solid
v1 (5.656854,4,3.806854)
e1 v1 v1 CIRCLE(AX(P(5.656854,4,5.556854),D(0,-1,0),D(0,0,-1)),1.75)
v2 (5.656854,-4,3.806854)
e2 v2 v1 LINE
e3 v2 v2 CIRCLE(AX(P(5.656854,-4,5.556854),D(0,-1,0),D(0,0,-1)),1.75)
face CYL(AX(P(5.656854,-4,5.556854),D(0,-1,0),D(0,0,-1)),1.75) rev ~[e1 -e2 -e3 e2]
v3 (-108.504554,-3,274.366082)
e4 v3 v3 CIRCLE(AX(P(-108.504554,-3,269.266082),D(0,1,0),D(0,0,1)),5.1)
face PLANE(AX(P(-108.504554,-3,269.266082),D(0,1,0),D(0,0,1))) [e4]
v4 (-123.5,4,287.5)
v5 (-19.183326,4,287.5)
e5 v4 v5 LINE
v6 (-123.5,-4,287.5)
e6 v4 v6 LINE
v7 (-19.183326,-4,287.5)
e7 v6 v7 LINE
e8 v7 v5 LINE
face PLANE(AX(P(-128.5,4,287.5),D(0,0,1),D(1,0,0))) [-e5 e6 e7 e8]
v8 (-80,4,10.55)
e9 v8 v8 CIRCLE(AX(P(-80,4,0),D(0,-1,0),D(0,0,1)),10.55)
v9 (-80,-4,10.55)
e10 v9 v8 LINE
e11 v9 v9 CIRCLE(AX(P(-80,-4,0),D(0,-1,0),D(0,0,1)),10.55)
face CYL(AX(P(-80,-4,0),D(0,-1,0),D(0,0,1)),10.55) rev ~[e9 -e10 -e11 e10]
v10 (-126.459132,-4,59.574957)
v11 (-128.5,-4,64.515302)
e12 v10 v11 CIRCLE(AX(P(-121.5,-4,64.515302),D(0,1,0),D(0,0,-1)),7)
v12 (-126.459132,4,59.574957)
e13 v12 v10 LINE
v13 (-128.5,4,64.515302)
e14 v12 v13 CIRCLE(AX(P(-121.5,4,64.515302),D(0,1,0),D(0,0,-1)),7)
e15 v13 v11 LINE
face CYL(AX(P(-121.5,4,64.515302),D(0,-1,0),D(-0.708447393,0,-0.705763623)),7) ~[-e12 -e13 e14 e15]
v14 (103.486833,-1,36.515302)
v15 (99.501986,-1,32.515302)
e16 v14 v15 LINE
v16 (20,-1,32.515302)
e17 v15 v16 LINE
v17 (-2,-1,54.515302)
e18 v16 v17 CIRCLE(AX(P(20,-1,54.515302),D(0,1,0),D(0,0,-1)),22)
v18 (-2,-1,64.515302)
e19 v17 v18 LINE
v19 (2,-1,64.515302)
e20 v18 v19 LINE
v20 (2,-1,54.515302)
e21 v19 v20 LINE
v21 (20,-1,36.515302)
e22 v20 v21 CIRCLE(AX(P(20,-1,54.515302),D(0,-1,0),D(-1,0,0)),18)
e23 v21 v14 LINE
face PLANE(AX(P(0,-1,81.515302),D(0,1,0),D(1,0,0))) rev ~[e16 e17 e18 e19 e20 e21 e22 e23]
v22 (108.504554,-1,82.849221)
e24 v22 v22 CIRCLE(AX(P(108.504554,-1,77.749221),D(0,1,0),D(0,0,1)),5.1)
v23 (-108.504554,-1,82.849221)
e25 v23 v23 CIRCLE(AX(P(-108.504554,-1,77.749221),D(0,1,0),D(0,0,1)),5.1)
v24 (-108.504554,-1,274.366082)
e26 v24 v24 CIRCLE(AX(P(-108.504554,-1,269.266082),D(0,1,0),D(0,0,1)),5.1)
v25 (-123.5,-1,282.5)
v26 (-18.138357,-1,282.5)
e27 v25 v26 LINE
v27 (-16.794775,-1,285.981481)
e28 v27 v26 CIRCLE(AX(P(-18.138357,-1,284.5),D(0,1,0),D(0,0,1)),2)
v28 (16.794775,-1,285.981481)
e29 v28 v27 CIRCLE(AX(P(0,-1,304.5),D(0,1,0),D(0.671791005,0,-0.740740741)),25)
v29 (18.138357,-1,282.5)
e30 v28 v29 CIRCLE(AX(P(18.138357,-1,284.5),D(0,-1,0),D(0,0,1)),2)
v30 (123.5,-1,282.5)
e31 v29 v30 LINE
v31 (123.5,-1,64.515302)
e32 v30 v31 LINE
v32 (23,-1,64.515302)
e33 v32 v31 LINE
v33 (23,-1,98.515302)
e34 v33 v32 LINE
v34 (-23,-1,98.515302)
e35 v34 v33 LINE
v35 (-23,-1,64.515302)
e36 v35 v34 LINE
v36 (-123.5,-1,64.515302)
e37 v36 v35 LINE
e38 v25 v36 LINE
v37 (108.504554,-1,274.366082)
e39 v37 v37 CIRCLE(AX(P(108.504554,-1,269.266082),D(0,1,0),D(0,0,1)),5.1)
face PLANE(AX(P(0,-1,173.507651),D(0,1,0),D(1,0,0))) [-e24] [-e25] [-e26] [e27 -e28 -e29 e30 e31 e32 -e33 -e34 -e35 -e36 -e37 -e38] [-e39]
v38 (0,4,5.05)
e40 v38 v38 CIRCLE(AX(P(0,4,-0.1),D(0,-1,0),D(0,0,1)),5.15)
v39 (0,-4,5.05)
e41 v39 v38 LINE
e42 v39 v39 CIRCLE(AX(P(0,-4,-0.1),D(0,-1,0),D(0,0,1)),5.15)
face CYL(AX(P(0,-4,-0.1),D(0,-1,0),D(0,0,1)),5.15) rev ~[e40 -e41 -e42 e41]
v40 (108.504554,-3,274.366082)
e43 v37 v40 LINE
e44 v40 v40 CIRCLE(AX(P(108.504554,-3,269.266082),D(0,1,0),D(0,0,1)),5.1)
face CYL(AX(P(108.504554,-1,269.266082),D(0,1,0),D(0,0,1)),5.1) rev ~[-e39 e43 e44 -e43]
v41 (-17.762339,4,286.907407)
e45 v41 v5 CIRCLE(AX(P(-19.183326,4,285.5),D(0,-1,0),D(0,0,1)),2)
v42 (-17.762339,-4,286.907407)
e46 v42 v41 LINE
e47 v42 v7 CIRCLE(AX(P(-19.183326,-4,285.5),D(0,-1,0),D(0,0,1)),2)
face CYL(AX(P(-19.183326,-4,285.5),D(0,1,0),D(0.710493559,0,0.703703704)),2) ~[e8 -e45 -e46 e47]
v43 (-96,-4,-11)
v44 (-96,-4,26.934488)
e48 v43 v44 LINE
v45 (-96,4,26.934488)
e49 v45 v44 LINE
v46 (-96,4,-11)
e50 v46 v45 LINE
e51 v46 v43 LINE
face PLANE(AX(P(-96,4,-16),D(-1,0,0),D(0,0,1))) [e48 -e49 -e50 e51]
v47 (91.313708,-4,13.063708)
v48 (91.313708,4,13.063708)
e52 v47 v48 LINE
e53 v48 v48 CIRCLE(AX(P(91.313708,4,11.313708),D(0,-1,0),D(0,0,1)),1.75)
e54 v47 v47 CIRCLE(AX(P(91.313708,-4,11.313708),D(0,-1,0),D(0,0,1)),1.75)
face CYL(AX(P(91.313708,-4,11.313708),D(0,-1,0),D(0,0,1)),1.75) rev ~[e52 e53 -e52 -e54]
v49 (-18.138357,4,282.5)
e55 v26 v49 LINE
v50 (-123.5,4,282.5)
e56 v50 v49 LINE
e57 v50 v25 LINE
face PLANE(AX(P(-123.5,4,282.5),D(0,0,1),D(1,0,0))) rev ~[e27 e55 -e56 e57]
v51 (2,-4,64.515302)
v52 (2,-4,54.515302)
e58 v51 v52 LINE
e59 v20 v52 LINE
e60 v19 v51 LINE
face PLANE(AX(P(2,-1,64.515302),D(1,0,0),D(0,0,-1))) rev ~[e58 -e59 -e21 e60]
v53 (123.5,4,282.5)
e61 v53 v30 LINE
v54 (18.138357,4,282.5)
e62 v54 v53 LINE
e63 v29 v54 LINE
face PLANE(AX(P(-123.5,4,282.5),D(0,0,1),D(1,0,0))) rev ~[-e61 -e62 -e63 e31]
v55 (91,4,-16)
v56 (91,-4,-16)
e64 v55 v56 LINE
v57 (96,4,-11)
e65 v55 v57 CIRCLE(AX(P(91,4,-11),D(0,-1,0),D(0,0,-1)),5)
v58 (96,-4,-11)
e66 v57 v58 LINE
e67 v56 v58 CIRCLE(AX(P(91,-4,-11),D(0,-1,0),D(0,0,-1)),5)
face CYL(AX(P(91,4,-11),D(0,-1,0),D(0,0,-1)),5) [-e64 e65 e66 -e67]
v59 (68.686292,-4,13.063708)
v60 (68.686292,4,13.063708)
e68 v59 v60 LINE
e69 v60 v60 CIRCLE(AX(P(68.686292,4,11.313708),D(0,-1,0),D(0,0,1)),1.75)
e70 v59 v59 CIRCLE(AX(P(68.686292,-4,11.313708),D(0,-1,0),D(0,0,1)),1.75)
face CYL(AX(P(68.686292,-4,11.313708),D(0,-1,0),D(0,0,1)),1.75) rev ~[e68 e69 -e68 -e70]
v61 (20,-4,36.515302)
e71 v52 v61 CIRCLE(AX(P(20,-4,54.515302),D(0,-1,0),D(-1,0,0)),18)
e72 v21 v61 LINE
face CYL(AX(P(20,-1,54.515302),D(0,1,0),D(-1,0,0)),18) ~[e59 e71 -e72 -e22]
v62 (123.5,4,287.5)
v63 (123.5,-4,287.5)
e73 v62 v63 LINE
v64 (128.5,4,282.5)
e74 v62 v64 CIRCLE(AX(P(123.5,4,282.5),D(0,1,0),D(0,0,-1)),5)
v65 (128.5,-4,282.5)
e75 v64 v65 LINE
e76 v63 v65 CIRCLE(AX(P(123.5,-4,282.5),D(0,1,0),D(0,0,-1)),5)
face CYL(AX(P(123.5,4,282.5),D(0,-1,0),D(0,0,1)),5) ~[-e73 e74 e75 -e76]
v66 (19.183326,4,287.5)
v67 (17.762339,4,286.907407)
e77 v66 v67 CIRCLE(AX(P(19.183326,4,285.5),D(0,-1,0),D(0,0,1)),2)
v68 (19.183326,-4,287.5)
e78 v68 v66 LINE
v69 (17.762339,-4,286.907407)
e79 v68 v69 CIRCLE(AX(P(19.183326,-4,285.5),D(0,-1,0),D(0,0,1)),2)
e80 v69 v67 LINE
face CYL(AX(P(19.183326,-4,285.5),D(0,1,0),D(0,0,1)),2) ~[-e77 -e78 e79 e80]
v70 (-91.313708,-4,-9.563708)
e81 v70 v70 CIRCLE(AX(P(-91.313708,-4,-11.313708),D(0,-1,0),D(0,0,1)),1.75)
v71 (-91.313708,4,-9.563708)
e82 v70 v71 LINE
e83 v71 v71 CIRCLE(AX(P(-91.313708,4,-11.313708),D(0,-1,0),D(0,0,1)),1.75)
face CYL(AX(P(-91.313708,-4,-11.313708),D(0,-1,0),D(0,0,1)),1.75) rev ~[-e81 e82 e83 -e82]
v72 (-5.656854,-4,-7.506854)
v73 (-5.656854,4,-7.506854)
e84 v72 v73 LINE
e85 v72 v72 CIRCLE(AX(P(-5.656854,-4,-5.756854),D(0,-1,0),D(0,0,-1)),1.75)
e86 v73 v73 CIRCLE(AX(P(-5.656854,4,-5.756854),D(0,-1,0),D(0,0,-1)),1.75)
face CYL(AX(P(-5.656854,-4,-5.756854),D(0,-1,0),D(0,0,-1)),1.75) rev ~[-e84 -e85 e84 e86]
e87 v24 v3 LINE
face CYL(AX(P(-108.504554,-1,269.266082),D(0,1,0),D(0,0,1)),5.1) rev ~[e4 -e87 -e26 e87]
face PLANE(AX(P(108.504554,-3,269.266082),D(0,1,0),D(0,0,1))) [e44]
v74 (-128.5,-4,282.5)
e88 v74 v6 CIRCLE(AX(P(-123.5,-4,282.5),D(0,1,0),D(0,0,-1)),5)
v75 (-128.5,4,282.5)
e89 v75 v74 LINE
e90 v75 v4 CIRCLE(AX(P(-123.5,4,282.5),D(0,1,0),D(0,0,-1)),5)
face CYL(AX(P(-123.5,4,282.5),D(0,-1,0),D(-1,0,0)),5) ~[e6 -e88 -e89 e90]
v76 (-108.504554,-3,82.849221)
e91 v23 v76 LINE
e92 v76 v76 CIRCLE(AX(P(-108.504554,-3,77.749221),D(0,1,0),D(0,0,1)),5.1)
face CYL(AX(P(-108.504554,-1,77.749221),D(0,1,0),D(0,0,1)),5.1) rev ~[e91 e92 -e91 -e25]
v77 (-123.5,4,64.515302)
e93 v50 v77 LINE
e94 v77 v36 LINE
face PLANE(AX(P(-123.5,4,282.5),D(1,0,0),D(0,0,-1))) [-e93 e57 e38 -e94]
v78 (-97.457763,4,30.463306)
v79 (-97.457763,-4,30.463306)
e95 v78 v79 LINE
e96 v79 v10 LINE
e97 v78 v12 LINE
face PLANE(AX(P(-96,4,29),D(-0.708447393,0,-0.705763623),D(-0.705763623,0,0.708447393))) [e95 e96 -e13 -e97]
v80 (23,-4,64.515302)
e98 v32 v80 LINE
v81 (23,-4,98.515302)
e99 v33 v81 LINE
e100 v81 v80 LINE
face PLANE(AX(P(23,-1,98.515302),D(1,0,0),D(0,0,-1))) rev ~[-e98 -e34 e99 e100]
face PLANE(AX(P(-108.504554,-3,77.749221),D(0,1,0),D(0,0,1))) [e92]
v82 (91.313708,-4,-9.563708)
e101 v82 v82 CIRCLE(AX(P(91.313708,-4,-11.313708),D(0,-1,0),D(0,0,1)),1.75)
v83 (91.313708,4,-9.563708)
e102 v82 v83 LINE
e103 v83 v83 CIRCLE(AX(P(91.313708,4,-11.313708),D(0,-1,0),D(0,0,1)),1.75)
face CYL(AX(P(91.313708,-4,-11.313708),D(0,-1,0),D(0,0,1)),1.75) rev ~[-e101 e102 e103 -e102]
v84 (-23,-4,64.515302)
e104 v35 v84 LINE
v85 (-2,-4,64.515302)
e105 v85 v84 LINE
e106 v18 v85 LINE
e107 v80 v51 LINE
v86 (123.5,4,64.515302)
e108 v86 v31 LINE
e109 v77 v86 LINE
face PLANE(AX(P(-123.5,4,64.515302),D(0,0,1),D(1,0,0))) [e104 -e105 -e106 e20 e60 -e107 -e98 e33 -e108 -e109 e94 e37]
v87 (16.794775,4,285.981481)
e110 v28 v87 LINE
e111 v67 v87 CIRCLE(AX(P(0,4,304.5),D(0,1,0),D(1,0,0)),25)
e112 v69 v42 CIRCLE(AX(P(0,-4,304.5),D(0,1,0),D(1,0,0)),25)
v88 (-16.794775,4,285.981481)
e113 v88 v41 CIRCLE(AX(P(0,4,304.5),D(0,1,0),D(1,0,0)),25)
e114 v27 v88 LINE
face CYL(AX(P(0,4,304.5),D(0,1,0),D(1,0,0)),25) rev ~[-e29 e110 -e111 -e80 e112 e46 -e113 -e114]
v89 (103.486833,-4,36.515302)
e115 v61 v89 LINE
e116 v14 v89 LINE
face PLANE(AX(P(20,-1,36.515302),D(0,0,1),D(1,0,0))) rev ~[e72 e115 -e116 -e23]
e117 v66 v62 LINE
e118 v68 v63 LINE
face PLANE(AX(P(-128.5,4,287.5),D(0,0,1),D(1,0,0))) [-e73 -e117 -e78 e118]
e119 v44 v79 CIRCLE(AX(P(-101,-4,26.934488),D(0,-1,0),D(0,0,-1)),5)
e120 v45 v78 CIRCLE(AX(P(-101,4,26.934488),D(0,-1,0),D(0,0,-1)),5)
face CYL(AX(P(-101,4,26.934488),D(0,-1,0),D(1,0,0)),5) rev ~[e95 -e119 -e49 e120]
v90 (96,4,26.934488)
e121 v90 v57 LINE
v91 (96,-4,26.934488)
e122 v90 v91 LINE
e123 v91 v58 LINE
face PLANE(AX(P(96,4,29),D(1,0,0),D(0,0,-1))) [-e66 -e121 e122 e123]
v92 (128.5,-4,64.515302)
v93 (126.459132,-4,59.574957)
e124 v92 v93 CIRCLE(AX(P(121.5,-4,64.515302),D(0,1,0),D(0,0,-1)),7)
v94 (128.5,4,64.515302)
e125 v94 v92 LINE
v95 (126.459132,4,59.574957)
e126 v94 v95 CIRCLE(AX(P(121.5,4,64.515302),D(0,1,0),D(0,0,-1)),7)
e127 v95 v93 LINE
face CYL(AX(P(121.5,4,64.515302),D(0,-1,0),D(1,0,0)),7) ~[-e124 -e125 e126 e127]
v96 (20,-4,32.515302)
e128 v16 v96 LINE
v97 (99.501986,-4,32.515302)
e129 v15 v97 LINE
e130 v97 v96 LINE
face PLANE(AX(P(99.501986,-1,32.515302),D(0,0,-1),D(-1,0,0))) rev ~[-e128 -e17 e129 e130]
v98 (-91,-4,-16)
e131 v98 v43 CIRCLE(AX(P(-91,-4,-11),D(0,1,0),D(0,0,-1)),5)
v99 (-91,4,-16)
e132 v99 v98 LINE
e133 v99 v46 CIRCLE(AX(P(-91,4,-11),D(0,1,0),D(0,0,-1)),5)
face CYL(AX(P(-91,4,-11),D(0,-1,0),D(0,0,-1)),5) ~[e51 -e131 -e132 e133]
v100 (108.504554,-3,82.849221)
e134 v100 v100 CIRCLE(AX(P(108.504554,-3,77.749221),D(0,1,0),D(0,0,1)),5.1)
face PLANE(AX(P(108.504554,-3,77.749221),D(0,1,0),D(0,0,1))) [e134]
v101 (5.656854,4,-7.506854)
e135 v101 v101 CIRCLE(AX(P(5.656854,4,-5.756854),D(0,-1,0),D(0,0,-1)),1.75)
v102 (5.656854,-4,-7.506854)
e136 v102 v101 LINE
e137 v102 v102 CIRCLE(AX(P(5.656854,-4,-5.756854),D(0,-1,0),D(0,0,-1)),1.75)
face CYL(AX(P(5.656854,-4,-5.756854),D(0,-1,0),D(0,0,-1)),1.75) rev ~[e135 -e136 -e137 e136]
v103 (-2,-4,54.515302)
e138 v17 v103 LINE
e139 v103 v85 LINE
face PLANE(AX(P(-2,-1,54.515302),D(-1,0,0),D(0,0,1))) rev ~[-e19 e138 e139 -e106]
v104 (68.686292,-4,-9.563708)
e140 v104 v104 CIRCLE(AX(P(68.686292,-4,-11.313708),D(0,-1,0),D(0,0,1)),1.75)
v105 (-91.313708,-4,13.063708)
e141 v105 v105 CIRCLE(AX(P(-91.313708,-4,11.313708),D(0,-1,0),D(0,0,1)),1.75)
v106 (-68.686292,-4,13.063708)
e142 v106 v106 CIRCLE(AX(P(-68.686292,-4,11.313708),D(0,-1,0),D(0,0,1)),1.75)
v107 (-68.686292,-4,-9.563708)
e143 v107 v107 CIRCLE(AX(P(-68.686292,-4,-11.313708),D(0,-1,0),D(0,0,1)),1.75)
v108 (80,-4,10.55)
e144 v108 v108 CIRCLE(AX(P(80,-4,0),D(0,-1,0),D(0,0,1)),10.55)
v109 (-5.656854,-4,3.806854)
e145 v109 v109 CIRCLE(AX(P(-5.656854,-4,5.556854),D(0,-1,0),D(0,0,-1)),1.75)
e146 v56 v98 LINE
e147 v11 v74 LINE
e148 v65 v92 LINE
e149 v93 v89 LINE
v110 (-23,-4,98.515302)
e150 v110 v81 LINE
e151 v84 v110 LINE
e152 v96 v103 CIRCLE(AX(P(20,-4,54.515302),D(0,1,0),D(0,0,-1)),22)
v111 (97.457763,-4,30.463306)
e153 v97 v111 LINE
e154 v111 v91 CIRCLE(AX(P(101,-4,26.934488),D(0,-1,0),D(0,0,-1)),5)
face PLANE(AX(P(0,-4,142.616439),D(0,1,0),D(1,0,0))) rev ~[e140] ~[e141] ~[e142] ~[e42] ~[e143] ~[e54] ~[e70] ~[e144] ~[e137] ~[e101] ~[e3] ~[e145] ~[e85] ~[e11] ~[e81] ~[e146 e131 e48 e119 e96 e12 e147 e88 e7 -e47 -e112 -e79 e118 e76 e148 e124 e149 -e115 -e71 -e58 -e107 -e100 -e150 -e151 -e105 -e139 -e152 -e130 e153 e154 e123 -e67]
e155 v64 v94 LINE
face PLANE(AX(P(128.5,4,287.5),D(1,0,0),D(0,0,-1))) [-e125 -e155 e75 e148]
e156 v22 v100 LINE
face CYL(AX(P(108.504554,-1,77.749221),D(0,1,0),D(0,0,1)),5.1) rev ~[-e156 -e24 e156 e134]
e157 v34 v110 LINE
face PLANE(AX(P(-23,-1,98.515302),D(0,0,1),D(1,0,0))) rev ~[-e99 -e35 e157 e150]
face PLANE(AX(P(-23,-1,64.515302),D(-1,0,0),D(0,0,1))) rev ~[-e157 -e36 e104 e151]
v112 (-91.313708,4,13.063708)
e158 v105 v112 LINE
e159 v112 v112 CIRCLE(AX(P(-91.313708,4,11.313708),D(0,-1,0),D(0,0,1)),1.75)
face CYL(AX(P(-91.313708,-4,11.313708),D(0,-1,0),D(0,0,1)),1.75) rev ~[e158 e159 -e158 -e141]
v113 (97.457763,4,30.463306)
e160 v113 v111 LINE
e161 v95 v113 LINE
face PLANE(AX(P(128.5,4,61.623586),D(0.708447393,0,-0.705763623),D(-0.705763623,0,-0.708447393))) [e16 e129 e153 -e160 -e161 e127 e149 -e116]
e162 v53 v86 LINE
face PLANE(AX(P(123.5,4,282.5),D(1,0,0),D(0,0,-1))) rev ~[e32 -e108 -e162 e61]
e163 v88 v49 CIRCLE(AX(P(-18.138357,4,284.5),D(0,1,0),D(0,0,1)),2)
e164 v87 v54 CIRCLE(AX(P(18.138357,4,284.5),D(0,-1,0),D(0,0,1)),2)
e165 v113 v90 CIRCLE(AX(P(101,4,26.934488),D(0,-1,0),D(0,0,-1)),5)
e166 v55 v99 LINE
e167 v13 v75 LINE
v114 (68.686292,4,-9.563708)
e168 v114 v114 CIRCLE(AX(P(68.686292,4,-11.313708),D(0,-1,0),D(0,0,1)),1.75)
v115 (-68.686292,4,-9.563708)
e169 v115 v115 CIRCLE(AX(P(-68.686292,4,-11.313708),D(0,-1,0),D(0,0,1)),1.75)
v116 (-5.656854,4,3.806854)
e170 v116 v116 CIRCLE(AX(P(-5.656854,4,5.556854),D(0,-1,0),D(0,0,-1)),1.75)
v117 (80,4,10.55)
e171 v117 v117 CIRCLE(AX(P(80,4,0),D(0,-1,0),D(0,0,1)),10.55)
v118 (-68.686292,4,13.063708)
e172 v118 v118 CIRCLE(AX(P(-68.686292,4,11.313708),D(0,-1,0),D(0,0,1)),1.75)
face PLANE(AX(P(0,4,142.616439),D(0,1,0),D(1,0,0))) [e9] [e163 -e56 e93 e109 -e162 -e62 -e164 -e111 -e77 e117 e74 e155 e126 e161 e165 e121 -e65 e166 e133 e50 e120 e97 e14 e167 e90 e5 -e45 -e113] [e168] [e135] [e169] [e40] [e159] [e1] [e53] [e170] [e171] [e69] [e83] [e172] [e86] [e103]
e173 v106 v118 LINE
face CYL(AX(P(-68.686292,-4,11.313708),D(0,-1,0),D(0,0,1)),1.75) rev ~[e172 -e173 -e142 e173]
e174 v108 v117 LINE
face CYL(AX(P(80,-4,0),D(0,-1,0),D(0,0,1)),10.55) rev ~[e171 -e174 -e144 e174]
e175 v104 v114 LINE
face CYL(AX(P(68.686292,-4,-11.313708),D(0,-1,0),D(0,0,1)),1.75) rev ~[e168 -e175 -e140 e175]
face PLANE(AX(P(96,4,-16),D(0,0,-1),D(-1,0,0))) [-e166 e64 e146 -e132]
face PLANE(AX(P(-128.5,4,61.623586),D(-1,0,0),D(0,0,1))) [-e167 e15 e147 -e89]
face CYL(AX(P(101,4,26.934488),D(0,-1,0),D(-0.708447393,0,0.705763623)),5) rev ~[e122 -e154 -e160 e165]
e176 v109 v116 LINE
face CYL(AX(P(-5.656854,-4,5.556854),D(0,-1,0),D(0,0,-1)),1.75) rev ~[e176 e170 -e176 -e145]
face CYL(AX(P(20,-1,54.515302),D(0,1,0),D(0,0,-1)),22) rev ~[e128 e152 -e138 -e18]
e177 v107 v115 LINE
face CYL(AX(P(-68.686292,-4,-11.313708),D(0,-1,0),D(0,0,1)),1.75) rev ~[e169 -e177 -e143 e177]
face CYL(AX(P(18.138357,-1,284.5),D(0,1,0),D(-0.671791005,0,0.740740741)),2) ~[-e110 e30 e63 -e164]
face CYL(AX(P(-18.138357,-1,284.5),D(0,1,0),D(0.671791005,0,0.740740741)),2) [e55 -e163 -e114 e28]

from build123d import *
from OCP.BRepFilletAPI import BRepFilletAPI_MakeFillet

# Parameters (mm, degrees)
SALIENTE_EXTRUIR1_DEPTH = 8
REDONDEO1_R1            = 7
REDONDEO1_R2            = 5
REDONDEO1_R3            = 5
CROQUIS17_R             = 5.15
CROQUIS17_R_2           = 1.75
CORTAR_EXTRUIR15_DEPTH  = 316.011904537
CROQUIS18_R             = 1.75
CORTAR_EXTRUIR16_DEPTH  = 316.011904537
CROQUIS19_R             = 1.75
CORTAR_EXTRUIR17_DEPTH  = 316.011904537
CROQUIS20_R             = 1.75
CORTAR_EXTRUIR18_DEPTH  = 316.011904537
CROQUIS21_R             = 1.75
CORTAR_EXTRUIR19_DEPTH  = 316.011904537
CROQUIS22_R             = 10.55
CORTAR_EXTRUIR20_DEPTH  = 316.011904537
CROQUIS23_R             = 1.75
CORTAR_EXTRUIR21_DEPTH  = 316.011904537
CROQUIS24_R             = 1.75
CORTAR_EXTRUIR22_DEPTH  = 316.011904537
CROQUIS25_R             = 1.75
CORTAR_EXTRUIR23_DEPTH  = 316.011904537
CROQUIS26_R             = 1.75
CORTAR_EXTRUIR24_DEPTH  = 316.011904537
CROQUIS27_R             = 10.55
CORTAR_EXTRUIR25_DEPTH  = 316.011904537
CROQUIS31_W             = 247
CROQUIS31_H             = 217.984697531
CORTAR_EXTRUIR29_DEPTH  = 5
CROQUIS32_R             = 5.1
CORTAR_EXTRUIR30_DEPTH  = 2
CORTAR_EXTRUIR31_DEPTH  = 3
CORTAR_EXTRUIR32_REACH  = 317.012
CROQUIS34_R             = 25
REDONDEO4_R             = 2


with BuildPart() as part:
    # Croquis1 → Saliente-Extruir1 (new body)
    with BuildSketch(Plane(origin=(0, 4, 0), x_dir=(1, 0, 0), z_dir=(0, 1, 0))):
        Polygon((96, 16), (-96, 16), (-96, -29), (-128.5, -61.623586062), (-128.5, -287.5), (128.5, -287.5), (128.5, -61.623586062), (96, -29), align=None)
    extrude(amount=-SALIENTE_EXTRUIR1_DEPTH)

    # Redondeo1: one fillet with a radius per group of edges: ONE call of the kernel's fillet builder (fillet() takes one radius for all edges)
    redondeo1_edges_1 = [part.edges().sort_by_distance(p)[0] for p in [
        (-128.5, 0, 61.623586062),
        (128.5, 0, 61.623586062),
    ]]
    redondeo1_edges_2 = [part.edges().sort_by_distance(p)[0] for p in [
        (96, 0, -16),
        (-96, 0, 29),
        (-96, 0, -16),
        (96, 0, 29),
    ]]
    redondeo1_edges_3 = [part.edges().sort_by_distance(p)[0] for p in [
        (128.5, 0, 287.5),
        (-128.5, 0, 287.5),
    ]]
    redondeo1 = BRepFilletAPI_MakeFillet(part.part.solid().wrapped)
    for e in redondeo1_edges_1:
        redondeo1.Add(REDONDEO1_R1, e.wrapped)
    for e in redondeo1_edges_2:
        redondeo1.Add(REDONDEO1_R2, e.wrapped)
    for e in redondeo1_edges_3:
        redondeo1.Add(REDONDEO1_R3, e.wrapped)
    add(Compound.cast(redondeo1.Shape()), mode=Mode.REPLACE)

    # Croquis17 → Cortar-Extruir15 (cut, through all)
    with BuildSketch(Plane.XZ.offset(4)):
        with Locations((0, -0.1)):
            Circle(CROQUIS17_R)
        with Locations((-5.656854249, -5.756854249)):
            Circle(CROQUIS17_R_2)
        with Locations((5.656854249, -5.756854249)):
            Circle(CROQUIS17_R_2)
        with Locations((5.656854249, 5.556854249)):
            Circle(CROQUIS17_R_2)
        with Locations((-5.656854249, 5.556854249)):
            Circle(CROQUIS17_R_2)
    extrude(amount=-CORTAR_EXTRUIR15_DEPTH, mode=Mode.SUBTRACT)

    # Croquis18 → Cortar-Extruir16 (cut, through all)
    with BuildSketch(Plane.XZ.offset(4)):
        with Locations((91.313708499, 11.313708499)):
            Circle(CROQUIS18_R)
    extrude(amount=-CORTAR_EXTRUIR16_DEPTH, mode=Mode.SUBTRACT)

    # Croquis19 → Cortar-Extruir17 (cut, through all)
    with BuildSketch(Plane.XZ.offset(4)):
        with Locations((91.313708499, -11.313708499)):
            Circle(CROQUIS19_R)
    extrude(amount=-CORTAR_EXTRUIR17_DEPTH, mode=Mode.SUBTRACT)

    # Croquis20 → Cortar-Extruir18 (cut, through all)
    with BuildSketch(Plane.XZ.offset(4)):
        with Locations((68.686291501, 11.313708499)):
            Circle(CROQUIS20_R)
    extrude(amount=-CORTAR_EXTRUIR18_DEPTH, mode=Mode.SUBTRACT)

    # Croquis21 → Cortar-Extruir19 (cut, through all)
    with BuildSketch(Plane.XZ.offset(4)):
        with Locations((68.686291501, -11.313708499)):
            Circle(CROQUIS21_R)
    extrude(amount=-CORTAR_EXTRUIR19_DEPTH, mode=Mode.SUBTRACT)

    # Croquis22 → Cortar-Extruir20 (cut, through all)
    with BuildSketch(Plane.XZ.offset(4)):
        with Locations((80, 0)):
            Circle(CROQUIS22_R)
    extrude(amount=-CORTAR_EXTRUIR20_DEPTH, mode=Mode.SUBTRACT)

    # Croquis23 → Cortar-Extruir21 (cut, through all)
    with BuildSketch(Plane.XZ.offset(4)):
        with Locations((-68.686291501, -11.313708499)):
            Circle(CROQUIS23_R)
    extrude(amount=-CORTAR_EXTRUIR21_DEPTH, mode=Mode.SUBTRACT)

    # Croquis24 → Cortar-Extruir22 (cut, through all)
    with BuildSketch(Plane.XZ.offset(4)):
        with Locations((-68.686291501, 11.313708499)):
            Circle(CROQUIS24_R)
    extrude(amount=-CORTAR_EXTRUIR22_DEPTH, mode=Mode.SUBTRACT)

    # Croquis25 → Cortar-Extruir23 (cut, through all)
    with BuildSketch(Plane.XZ.offset(4)):
        with Locations((-91.313708499, 11.313708499)):
            Circle(CROQUIS25_R)
    extrude(amount=-CORTAR_EXTRUIR23_DEPTH, mode=Mode.SUBTRACT)

    # Croquis26 → Cortar-Extruir24 (cut, through all)
    with BuildSketch(Plane.XZ.offset(4)):
        with Locations((-91.313708499, -11.313708499)):
            Circle(CROQUIS26_R)
    extrude(amount=-CORTAR_EXTRUIR24_DEPTH, mode=Mode.SUBTRACT)

    # Croquis27 → Cortar-Extruir25 (cut, through all)
    with BuildSketch(Plane.XZ.offset(4)):
        with Locations((-80, 0)):
            Circle(CROQUIS27_R)
    extrude(amount=-CORTAR_EXTRUIR25_DEPTH, mode=Mode.SUBTRACT)

    # Croquis31 → Cortar-Extruir29 (cut)
    with BuildSketch(Plane(origin=(0, 4, 0), x_dir=(1, 0, 0), z_dir=(0, 1, 0))):
        with Locations((0, -173.507651235)):
            Rectangle(CROQUIS31_W, CROQUIS31_H)
    extrude(amount=-CORTAR_EXTRUIR29_DEPTH, mode=Mode.SUBTRACT)

    # Croquis32 → Cortar-Extruir30 (cut)
    with BuildSketch(Plane(origin=(0, -1, 0), x_dir=(1, 0, 0), z_dir=(0, 1, 0))):
        with Locations((-108.504553774, -77.749220728)):
            Circle(CROQUIS32_R)
        with Locations((-108.504553774, -269.266081741)):
            Circle(CROQUIS32_R)
        with Locations((108.504553774, -269.266081741)):
            Circle(CROQUIS32_R)
        with Locations((108.504553774, -77.749220728)):
            Circle(CROQUIS32_R)
    extrude(amount=-CORTAR_EXTRUIR30_DEPTH, mode=Mode.SUBTRACT)

    # Croquis33 → Cortar-Extruir31 (cut)
    with BuildSketch(Plane(origin=(0, -1, 0), x_dir=(1, 0, 0), z_dir=(0, 1, 0))):
        with BuildLine():
            Line((-23, -98.515302469), (23, -98.515302469))
            Line((23, -98.515302469), (23, -64.515302469))
            Line((23, -64.515302469), (2, -64.515302469))
            Line((2, -64.515302469), (2, -54.515302469))
            ThreePointArc((2, -54.515302469), (7.272077939, -41.787380408), (20, -36.515302469))
            Line((20, -36.515302469), (103.48683268, -36.515302469))
            Line((103.48683268, -36.515302469), (99.50198565, -32.515302469))
            Line((99.50198565, -32.515302469), (20, -32.515302469))
            ThreePointArc((20, -32.515302469), (4.443650814, -38.958953283), (-2, -54.515302469))
            Line((-2, -54.515302469), (-2, -64.515302469))
            Line((-2, -64.515302469), (-23, -64.515302469))
            Line((-23, -64.515302469), (-23, -98.515302469))
        make_face()
    extrude(amount=-CORTAR_EXTRUIR31_DEPTH, mode=Mode.SUBTRACT)

    # Croquis34 → Cortar-Extruir32 (cut, up to next)
    with BuildSketch(Plane(origin=(0, 4, 0), x_dir=(1, 0, 0), z_dir=(0, 1, 0)), mode=Mode.PRIVATE) as cortar_extruir32_sk1:
        with Locations((0, -304.5)):
            Circle(CROQUIS34_R)
    cortar_extruir32_tool1 = extrude(cortar_extruir32_sk1.sketch, amount=-CORTAR_EXTRUIR32_REACH, mode=Mode.PRIVATE) & part.part
    add(cortar_extruir32_tool1.solids().sort_by_distance((0, 4, 304.5))[0], mode=Mode.SUBTRACT)

    # Redondeo4
    redondeo4_edges = [part.edges().sort_by_distance(p)[0] for p in [
        (18.33030278, 0, 287.5),
        (-18.33030278, 0, 287.5),
        (11.874342087, 1.5, 282.5),
        (-11.874342087, 1.5, 282.5),
    ]]
    fillet(redondeo4_edges, radius=REDONDEO4_R)


solid = part.part
